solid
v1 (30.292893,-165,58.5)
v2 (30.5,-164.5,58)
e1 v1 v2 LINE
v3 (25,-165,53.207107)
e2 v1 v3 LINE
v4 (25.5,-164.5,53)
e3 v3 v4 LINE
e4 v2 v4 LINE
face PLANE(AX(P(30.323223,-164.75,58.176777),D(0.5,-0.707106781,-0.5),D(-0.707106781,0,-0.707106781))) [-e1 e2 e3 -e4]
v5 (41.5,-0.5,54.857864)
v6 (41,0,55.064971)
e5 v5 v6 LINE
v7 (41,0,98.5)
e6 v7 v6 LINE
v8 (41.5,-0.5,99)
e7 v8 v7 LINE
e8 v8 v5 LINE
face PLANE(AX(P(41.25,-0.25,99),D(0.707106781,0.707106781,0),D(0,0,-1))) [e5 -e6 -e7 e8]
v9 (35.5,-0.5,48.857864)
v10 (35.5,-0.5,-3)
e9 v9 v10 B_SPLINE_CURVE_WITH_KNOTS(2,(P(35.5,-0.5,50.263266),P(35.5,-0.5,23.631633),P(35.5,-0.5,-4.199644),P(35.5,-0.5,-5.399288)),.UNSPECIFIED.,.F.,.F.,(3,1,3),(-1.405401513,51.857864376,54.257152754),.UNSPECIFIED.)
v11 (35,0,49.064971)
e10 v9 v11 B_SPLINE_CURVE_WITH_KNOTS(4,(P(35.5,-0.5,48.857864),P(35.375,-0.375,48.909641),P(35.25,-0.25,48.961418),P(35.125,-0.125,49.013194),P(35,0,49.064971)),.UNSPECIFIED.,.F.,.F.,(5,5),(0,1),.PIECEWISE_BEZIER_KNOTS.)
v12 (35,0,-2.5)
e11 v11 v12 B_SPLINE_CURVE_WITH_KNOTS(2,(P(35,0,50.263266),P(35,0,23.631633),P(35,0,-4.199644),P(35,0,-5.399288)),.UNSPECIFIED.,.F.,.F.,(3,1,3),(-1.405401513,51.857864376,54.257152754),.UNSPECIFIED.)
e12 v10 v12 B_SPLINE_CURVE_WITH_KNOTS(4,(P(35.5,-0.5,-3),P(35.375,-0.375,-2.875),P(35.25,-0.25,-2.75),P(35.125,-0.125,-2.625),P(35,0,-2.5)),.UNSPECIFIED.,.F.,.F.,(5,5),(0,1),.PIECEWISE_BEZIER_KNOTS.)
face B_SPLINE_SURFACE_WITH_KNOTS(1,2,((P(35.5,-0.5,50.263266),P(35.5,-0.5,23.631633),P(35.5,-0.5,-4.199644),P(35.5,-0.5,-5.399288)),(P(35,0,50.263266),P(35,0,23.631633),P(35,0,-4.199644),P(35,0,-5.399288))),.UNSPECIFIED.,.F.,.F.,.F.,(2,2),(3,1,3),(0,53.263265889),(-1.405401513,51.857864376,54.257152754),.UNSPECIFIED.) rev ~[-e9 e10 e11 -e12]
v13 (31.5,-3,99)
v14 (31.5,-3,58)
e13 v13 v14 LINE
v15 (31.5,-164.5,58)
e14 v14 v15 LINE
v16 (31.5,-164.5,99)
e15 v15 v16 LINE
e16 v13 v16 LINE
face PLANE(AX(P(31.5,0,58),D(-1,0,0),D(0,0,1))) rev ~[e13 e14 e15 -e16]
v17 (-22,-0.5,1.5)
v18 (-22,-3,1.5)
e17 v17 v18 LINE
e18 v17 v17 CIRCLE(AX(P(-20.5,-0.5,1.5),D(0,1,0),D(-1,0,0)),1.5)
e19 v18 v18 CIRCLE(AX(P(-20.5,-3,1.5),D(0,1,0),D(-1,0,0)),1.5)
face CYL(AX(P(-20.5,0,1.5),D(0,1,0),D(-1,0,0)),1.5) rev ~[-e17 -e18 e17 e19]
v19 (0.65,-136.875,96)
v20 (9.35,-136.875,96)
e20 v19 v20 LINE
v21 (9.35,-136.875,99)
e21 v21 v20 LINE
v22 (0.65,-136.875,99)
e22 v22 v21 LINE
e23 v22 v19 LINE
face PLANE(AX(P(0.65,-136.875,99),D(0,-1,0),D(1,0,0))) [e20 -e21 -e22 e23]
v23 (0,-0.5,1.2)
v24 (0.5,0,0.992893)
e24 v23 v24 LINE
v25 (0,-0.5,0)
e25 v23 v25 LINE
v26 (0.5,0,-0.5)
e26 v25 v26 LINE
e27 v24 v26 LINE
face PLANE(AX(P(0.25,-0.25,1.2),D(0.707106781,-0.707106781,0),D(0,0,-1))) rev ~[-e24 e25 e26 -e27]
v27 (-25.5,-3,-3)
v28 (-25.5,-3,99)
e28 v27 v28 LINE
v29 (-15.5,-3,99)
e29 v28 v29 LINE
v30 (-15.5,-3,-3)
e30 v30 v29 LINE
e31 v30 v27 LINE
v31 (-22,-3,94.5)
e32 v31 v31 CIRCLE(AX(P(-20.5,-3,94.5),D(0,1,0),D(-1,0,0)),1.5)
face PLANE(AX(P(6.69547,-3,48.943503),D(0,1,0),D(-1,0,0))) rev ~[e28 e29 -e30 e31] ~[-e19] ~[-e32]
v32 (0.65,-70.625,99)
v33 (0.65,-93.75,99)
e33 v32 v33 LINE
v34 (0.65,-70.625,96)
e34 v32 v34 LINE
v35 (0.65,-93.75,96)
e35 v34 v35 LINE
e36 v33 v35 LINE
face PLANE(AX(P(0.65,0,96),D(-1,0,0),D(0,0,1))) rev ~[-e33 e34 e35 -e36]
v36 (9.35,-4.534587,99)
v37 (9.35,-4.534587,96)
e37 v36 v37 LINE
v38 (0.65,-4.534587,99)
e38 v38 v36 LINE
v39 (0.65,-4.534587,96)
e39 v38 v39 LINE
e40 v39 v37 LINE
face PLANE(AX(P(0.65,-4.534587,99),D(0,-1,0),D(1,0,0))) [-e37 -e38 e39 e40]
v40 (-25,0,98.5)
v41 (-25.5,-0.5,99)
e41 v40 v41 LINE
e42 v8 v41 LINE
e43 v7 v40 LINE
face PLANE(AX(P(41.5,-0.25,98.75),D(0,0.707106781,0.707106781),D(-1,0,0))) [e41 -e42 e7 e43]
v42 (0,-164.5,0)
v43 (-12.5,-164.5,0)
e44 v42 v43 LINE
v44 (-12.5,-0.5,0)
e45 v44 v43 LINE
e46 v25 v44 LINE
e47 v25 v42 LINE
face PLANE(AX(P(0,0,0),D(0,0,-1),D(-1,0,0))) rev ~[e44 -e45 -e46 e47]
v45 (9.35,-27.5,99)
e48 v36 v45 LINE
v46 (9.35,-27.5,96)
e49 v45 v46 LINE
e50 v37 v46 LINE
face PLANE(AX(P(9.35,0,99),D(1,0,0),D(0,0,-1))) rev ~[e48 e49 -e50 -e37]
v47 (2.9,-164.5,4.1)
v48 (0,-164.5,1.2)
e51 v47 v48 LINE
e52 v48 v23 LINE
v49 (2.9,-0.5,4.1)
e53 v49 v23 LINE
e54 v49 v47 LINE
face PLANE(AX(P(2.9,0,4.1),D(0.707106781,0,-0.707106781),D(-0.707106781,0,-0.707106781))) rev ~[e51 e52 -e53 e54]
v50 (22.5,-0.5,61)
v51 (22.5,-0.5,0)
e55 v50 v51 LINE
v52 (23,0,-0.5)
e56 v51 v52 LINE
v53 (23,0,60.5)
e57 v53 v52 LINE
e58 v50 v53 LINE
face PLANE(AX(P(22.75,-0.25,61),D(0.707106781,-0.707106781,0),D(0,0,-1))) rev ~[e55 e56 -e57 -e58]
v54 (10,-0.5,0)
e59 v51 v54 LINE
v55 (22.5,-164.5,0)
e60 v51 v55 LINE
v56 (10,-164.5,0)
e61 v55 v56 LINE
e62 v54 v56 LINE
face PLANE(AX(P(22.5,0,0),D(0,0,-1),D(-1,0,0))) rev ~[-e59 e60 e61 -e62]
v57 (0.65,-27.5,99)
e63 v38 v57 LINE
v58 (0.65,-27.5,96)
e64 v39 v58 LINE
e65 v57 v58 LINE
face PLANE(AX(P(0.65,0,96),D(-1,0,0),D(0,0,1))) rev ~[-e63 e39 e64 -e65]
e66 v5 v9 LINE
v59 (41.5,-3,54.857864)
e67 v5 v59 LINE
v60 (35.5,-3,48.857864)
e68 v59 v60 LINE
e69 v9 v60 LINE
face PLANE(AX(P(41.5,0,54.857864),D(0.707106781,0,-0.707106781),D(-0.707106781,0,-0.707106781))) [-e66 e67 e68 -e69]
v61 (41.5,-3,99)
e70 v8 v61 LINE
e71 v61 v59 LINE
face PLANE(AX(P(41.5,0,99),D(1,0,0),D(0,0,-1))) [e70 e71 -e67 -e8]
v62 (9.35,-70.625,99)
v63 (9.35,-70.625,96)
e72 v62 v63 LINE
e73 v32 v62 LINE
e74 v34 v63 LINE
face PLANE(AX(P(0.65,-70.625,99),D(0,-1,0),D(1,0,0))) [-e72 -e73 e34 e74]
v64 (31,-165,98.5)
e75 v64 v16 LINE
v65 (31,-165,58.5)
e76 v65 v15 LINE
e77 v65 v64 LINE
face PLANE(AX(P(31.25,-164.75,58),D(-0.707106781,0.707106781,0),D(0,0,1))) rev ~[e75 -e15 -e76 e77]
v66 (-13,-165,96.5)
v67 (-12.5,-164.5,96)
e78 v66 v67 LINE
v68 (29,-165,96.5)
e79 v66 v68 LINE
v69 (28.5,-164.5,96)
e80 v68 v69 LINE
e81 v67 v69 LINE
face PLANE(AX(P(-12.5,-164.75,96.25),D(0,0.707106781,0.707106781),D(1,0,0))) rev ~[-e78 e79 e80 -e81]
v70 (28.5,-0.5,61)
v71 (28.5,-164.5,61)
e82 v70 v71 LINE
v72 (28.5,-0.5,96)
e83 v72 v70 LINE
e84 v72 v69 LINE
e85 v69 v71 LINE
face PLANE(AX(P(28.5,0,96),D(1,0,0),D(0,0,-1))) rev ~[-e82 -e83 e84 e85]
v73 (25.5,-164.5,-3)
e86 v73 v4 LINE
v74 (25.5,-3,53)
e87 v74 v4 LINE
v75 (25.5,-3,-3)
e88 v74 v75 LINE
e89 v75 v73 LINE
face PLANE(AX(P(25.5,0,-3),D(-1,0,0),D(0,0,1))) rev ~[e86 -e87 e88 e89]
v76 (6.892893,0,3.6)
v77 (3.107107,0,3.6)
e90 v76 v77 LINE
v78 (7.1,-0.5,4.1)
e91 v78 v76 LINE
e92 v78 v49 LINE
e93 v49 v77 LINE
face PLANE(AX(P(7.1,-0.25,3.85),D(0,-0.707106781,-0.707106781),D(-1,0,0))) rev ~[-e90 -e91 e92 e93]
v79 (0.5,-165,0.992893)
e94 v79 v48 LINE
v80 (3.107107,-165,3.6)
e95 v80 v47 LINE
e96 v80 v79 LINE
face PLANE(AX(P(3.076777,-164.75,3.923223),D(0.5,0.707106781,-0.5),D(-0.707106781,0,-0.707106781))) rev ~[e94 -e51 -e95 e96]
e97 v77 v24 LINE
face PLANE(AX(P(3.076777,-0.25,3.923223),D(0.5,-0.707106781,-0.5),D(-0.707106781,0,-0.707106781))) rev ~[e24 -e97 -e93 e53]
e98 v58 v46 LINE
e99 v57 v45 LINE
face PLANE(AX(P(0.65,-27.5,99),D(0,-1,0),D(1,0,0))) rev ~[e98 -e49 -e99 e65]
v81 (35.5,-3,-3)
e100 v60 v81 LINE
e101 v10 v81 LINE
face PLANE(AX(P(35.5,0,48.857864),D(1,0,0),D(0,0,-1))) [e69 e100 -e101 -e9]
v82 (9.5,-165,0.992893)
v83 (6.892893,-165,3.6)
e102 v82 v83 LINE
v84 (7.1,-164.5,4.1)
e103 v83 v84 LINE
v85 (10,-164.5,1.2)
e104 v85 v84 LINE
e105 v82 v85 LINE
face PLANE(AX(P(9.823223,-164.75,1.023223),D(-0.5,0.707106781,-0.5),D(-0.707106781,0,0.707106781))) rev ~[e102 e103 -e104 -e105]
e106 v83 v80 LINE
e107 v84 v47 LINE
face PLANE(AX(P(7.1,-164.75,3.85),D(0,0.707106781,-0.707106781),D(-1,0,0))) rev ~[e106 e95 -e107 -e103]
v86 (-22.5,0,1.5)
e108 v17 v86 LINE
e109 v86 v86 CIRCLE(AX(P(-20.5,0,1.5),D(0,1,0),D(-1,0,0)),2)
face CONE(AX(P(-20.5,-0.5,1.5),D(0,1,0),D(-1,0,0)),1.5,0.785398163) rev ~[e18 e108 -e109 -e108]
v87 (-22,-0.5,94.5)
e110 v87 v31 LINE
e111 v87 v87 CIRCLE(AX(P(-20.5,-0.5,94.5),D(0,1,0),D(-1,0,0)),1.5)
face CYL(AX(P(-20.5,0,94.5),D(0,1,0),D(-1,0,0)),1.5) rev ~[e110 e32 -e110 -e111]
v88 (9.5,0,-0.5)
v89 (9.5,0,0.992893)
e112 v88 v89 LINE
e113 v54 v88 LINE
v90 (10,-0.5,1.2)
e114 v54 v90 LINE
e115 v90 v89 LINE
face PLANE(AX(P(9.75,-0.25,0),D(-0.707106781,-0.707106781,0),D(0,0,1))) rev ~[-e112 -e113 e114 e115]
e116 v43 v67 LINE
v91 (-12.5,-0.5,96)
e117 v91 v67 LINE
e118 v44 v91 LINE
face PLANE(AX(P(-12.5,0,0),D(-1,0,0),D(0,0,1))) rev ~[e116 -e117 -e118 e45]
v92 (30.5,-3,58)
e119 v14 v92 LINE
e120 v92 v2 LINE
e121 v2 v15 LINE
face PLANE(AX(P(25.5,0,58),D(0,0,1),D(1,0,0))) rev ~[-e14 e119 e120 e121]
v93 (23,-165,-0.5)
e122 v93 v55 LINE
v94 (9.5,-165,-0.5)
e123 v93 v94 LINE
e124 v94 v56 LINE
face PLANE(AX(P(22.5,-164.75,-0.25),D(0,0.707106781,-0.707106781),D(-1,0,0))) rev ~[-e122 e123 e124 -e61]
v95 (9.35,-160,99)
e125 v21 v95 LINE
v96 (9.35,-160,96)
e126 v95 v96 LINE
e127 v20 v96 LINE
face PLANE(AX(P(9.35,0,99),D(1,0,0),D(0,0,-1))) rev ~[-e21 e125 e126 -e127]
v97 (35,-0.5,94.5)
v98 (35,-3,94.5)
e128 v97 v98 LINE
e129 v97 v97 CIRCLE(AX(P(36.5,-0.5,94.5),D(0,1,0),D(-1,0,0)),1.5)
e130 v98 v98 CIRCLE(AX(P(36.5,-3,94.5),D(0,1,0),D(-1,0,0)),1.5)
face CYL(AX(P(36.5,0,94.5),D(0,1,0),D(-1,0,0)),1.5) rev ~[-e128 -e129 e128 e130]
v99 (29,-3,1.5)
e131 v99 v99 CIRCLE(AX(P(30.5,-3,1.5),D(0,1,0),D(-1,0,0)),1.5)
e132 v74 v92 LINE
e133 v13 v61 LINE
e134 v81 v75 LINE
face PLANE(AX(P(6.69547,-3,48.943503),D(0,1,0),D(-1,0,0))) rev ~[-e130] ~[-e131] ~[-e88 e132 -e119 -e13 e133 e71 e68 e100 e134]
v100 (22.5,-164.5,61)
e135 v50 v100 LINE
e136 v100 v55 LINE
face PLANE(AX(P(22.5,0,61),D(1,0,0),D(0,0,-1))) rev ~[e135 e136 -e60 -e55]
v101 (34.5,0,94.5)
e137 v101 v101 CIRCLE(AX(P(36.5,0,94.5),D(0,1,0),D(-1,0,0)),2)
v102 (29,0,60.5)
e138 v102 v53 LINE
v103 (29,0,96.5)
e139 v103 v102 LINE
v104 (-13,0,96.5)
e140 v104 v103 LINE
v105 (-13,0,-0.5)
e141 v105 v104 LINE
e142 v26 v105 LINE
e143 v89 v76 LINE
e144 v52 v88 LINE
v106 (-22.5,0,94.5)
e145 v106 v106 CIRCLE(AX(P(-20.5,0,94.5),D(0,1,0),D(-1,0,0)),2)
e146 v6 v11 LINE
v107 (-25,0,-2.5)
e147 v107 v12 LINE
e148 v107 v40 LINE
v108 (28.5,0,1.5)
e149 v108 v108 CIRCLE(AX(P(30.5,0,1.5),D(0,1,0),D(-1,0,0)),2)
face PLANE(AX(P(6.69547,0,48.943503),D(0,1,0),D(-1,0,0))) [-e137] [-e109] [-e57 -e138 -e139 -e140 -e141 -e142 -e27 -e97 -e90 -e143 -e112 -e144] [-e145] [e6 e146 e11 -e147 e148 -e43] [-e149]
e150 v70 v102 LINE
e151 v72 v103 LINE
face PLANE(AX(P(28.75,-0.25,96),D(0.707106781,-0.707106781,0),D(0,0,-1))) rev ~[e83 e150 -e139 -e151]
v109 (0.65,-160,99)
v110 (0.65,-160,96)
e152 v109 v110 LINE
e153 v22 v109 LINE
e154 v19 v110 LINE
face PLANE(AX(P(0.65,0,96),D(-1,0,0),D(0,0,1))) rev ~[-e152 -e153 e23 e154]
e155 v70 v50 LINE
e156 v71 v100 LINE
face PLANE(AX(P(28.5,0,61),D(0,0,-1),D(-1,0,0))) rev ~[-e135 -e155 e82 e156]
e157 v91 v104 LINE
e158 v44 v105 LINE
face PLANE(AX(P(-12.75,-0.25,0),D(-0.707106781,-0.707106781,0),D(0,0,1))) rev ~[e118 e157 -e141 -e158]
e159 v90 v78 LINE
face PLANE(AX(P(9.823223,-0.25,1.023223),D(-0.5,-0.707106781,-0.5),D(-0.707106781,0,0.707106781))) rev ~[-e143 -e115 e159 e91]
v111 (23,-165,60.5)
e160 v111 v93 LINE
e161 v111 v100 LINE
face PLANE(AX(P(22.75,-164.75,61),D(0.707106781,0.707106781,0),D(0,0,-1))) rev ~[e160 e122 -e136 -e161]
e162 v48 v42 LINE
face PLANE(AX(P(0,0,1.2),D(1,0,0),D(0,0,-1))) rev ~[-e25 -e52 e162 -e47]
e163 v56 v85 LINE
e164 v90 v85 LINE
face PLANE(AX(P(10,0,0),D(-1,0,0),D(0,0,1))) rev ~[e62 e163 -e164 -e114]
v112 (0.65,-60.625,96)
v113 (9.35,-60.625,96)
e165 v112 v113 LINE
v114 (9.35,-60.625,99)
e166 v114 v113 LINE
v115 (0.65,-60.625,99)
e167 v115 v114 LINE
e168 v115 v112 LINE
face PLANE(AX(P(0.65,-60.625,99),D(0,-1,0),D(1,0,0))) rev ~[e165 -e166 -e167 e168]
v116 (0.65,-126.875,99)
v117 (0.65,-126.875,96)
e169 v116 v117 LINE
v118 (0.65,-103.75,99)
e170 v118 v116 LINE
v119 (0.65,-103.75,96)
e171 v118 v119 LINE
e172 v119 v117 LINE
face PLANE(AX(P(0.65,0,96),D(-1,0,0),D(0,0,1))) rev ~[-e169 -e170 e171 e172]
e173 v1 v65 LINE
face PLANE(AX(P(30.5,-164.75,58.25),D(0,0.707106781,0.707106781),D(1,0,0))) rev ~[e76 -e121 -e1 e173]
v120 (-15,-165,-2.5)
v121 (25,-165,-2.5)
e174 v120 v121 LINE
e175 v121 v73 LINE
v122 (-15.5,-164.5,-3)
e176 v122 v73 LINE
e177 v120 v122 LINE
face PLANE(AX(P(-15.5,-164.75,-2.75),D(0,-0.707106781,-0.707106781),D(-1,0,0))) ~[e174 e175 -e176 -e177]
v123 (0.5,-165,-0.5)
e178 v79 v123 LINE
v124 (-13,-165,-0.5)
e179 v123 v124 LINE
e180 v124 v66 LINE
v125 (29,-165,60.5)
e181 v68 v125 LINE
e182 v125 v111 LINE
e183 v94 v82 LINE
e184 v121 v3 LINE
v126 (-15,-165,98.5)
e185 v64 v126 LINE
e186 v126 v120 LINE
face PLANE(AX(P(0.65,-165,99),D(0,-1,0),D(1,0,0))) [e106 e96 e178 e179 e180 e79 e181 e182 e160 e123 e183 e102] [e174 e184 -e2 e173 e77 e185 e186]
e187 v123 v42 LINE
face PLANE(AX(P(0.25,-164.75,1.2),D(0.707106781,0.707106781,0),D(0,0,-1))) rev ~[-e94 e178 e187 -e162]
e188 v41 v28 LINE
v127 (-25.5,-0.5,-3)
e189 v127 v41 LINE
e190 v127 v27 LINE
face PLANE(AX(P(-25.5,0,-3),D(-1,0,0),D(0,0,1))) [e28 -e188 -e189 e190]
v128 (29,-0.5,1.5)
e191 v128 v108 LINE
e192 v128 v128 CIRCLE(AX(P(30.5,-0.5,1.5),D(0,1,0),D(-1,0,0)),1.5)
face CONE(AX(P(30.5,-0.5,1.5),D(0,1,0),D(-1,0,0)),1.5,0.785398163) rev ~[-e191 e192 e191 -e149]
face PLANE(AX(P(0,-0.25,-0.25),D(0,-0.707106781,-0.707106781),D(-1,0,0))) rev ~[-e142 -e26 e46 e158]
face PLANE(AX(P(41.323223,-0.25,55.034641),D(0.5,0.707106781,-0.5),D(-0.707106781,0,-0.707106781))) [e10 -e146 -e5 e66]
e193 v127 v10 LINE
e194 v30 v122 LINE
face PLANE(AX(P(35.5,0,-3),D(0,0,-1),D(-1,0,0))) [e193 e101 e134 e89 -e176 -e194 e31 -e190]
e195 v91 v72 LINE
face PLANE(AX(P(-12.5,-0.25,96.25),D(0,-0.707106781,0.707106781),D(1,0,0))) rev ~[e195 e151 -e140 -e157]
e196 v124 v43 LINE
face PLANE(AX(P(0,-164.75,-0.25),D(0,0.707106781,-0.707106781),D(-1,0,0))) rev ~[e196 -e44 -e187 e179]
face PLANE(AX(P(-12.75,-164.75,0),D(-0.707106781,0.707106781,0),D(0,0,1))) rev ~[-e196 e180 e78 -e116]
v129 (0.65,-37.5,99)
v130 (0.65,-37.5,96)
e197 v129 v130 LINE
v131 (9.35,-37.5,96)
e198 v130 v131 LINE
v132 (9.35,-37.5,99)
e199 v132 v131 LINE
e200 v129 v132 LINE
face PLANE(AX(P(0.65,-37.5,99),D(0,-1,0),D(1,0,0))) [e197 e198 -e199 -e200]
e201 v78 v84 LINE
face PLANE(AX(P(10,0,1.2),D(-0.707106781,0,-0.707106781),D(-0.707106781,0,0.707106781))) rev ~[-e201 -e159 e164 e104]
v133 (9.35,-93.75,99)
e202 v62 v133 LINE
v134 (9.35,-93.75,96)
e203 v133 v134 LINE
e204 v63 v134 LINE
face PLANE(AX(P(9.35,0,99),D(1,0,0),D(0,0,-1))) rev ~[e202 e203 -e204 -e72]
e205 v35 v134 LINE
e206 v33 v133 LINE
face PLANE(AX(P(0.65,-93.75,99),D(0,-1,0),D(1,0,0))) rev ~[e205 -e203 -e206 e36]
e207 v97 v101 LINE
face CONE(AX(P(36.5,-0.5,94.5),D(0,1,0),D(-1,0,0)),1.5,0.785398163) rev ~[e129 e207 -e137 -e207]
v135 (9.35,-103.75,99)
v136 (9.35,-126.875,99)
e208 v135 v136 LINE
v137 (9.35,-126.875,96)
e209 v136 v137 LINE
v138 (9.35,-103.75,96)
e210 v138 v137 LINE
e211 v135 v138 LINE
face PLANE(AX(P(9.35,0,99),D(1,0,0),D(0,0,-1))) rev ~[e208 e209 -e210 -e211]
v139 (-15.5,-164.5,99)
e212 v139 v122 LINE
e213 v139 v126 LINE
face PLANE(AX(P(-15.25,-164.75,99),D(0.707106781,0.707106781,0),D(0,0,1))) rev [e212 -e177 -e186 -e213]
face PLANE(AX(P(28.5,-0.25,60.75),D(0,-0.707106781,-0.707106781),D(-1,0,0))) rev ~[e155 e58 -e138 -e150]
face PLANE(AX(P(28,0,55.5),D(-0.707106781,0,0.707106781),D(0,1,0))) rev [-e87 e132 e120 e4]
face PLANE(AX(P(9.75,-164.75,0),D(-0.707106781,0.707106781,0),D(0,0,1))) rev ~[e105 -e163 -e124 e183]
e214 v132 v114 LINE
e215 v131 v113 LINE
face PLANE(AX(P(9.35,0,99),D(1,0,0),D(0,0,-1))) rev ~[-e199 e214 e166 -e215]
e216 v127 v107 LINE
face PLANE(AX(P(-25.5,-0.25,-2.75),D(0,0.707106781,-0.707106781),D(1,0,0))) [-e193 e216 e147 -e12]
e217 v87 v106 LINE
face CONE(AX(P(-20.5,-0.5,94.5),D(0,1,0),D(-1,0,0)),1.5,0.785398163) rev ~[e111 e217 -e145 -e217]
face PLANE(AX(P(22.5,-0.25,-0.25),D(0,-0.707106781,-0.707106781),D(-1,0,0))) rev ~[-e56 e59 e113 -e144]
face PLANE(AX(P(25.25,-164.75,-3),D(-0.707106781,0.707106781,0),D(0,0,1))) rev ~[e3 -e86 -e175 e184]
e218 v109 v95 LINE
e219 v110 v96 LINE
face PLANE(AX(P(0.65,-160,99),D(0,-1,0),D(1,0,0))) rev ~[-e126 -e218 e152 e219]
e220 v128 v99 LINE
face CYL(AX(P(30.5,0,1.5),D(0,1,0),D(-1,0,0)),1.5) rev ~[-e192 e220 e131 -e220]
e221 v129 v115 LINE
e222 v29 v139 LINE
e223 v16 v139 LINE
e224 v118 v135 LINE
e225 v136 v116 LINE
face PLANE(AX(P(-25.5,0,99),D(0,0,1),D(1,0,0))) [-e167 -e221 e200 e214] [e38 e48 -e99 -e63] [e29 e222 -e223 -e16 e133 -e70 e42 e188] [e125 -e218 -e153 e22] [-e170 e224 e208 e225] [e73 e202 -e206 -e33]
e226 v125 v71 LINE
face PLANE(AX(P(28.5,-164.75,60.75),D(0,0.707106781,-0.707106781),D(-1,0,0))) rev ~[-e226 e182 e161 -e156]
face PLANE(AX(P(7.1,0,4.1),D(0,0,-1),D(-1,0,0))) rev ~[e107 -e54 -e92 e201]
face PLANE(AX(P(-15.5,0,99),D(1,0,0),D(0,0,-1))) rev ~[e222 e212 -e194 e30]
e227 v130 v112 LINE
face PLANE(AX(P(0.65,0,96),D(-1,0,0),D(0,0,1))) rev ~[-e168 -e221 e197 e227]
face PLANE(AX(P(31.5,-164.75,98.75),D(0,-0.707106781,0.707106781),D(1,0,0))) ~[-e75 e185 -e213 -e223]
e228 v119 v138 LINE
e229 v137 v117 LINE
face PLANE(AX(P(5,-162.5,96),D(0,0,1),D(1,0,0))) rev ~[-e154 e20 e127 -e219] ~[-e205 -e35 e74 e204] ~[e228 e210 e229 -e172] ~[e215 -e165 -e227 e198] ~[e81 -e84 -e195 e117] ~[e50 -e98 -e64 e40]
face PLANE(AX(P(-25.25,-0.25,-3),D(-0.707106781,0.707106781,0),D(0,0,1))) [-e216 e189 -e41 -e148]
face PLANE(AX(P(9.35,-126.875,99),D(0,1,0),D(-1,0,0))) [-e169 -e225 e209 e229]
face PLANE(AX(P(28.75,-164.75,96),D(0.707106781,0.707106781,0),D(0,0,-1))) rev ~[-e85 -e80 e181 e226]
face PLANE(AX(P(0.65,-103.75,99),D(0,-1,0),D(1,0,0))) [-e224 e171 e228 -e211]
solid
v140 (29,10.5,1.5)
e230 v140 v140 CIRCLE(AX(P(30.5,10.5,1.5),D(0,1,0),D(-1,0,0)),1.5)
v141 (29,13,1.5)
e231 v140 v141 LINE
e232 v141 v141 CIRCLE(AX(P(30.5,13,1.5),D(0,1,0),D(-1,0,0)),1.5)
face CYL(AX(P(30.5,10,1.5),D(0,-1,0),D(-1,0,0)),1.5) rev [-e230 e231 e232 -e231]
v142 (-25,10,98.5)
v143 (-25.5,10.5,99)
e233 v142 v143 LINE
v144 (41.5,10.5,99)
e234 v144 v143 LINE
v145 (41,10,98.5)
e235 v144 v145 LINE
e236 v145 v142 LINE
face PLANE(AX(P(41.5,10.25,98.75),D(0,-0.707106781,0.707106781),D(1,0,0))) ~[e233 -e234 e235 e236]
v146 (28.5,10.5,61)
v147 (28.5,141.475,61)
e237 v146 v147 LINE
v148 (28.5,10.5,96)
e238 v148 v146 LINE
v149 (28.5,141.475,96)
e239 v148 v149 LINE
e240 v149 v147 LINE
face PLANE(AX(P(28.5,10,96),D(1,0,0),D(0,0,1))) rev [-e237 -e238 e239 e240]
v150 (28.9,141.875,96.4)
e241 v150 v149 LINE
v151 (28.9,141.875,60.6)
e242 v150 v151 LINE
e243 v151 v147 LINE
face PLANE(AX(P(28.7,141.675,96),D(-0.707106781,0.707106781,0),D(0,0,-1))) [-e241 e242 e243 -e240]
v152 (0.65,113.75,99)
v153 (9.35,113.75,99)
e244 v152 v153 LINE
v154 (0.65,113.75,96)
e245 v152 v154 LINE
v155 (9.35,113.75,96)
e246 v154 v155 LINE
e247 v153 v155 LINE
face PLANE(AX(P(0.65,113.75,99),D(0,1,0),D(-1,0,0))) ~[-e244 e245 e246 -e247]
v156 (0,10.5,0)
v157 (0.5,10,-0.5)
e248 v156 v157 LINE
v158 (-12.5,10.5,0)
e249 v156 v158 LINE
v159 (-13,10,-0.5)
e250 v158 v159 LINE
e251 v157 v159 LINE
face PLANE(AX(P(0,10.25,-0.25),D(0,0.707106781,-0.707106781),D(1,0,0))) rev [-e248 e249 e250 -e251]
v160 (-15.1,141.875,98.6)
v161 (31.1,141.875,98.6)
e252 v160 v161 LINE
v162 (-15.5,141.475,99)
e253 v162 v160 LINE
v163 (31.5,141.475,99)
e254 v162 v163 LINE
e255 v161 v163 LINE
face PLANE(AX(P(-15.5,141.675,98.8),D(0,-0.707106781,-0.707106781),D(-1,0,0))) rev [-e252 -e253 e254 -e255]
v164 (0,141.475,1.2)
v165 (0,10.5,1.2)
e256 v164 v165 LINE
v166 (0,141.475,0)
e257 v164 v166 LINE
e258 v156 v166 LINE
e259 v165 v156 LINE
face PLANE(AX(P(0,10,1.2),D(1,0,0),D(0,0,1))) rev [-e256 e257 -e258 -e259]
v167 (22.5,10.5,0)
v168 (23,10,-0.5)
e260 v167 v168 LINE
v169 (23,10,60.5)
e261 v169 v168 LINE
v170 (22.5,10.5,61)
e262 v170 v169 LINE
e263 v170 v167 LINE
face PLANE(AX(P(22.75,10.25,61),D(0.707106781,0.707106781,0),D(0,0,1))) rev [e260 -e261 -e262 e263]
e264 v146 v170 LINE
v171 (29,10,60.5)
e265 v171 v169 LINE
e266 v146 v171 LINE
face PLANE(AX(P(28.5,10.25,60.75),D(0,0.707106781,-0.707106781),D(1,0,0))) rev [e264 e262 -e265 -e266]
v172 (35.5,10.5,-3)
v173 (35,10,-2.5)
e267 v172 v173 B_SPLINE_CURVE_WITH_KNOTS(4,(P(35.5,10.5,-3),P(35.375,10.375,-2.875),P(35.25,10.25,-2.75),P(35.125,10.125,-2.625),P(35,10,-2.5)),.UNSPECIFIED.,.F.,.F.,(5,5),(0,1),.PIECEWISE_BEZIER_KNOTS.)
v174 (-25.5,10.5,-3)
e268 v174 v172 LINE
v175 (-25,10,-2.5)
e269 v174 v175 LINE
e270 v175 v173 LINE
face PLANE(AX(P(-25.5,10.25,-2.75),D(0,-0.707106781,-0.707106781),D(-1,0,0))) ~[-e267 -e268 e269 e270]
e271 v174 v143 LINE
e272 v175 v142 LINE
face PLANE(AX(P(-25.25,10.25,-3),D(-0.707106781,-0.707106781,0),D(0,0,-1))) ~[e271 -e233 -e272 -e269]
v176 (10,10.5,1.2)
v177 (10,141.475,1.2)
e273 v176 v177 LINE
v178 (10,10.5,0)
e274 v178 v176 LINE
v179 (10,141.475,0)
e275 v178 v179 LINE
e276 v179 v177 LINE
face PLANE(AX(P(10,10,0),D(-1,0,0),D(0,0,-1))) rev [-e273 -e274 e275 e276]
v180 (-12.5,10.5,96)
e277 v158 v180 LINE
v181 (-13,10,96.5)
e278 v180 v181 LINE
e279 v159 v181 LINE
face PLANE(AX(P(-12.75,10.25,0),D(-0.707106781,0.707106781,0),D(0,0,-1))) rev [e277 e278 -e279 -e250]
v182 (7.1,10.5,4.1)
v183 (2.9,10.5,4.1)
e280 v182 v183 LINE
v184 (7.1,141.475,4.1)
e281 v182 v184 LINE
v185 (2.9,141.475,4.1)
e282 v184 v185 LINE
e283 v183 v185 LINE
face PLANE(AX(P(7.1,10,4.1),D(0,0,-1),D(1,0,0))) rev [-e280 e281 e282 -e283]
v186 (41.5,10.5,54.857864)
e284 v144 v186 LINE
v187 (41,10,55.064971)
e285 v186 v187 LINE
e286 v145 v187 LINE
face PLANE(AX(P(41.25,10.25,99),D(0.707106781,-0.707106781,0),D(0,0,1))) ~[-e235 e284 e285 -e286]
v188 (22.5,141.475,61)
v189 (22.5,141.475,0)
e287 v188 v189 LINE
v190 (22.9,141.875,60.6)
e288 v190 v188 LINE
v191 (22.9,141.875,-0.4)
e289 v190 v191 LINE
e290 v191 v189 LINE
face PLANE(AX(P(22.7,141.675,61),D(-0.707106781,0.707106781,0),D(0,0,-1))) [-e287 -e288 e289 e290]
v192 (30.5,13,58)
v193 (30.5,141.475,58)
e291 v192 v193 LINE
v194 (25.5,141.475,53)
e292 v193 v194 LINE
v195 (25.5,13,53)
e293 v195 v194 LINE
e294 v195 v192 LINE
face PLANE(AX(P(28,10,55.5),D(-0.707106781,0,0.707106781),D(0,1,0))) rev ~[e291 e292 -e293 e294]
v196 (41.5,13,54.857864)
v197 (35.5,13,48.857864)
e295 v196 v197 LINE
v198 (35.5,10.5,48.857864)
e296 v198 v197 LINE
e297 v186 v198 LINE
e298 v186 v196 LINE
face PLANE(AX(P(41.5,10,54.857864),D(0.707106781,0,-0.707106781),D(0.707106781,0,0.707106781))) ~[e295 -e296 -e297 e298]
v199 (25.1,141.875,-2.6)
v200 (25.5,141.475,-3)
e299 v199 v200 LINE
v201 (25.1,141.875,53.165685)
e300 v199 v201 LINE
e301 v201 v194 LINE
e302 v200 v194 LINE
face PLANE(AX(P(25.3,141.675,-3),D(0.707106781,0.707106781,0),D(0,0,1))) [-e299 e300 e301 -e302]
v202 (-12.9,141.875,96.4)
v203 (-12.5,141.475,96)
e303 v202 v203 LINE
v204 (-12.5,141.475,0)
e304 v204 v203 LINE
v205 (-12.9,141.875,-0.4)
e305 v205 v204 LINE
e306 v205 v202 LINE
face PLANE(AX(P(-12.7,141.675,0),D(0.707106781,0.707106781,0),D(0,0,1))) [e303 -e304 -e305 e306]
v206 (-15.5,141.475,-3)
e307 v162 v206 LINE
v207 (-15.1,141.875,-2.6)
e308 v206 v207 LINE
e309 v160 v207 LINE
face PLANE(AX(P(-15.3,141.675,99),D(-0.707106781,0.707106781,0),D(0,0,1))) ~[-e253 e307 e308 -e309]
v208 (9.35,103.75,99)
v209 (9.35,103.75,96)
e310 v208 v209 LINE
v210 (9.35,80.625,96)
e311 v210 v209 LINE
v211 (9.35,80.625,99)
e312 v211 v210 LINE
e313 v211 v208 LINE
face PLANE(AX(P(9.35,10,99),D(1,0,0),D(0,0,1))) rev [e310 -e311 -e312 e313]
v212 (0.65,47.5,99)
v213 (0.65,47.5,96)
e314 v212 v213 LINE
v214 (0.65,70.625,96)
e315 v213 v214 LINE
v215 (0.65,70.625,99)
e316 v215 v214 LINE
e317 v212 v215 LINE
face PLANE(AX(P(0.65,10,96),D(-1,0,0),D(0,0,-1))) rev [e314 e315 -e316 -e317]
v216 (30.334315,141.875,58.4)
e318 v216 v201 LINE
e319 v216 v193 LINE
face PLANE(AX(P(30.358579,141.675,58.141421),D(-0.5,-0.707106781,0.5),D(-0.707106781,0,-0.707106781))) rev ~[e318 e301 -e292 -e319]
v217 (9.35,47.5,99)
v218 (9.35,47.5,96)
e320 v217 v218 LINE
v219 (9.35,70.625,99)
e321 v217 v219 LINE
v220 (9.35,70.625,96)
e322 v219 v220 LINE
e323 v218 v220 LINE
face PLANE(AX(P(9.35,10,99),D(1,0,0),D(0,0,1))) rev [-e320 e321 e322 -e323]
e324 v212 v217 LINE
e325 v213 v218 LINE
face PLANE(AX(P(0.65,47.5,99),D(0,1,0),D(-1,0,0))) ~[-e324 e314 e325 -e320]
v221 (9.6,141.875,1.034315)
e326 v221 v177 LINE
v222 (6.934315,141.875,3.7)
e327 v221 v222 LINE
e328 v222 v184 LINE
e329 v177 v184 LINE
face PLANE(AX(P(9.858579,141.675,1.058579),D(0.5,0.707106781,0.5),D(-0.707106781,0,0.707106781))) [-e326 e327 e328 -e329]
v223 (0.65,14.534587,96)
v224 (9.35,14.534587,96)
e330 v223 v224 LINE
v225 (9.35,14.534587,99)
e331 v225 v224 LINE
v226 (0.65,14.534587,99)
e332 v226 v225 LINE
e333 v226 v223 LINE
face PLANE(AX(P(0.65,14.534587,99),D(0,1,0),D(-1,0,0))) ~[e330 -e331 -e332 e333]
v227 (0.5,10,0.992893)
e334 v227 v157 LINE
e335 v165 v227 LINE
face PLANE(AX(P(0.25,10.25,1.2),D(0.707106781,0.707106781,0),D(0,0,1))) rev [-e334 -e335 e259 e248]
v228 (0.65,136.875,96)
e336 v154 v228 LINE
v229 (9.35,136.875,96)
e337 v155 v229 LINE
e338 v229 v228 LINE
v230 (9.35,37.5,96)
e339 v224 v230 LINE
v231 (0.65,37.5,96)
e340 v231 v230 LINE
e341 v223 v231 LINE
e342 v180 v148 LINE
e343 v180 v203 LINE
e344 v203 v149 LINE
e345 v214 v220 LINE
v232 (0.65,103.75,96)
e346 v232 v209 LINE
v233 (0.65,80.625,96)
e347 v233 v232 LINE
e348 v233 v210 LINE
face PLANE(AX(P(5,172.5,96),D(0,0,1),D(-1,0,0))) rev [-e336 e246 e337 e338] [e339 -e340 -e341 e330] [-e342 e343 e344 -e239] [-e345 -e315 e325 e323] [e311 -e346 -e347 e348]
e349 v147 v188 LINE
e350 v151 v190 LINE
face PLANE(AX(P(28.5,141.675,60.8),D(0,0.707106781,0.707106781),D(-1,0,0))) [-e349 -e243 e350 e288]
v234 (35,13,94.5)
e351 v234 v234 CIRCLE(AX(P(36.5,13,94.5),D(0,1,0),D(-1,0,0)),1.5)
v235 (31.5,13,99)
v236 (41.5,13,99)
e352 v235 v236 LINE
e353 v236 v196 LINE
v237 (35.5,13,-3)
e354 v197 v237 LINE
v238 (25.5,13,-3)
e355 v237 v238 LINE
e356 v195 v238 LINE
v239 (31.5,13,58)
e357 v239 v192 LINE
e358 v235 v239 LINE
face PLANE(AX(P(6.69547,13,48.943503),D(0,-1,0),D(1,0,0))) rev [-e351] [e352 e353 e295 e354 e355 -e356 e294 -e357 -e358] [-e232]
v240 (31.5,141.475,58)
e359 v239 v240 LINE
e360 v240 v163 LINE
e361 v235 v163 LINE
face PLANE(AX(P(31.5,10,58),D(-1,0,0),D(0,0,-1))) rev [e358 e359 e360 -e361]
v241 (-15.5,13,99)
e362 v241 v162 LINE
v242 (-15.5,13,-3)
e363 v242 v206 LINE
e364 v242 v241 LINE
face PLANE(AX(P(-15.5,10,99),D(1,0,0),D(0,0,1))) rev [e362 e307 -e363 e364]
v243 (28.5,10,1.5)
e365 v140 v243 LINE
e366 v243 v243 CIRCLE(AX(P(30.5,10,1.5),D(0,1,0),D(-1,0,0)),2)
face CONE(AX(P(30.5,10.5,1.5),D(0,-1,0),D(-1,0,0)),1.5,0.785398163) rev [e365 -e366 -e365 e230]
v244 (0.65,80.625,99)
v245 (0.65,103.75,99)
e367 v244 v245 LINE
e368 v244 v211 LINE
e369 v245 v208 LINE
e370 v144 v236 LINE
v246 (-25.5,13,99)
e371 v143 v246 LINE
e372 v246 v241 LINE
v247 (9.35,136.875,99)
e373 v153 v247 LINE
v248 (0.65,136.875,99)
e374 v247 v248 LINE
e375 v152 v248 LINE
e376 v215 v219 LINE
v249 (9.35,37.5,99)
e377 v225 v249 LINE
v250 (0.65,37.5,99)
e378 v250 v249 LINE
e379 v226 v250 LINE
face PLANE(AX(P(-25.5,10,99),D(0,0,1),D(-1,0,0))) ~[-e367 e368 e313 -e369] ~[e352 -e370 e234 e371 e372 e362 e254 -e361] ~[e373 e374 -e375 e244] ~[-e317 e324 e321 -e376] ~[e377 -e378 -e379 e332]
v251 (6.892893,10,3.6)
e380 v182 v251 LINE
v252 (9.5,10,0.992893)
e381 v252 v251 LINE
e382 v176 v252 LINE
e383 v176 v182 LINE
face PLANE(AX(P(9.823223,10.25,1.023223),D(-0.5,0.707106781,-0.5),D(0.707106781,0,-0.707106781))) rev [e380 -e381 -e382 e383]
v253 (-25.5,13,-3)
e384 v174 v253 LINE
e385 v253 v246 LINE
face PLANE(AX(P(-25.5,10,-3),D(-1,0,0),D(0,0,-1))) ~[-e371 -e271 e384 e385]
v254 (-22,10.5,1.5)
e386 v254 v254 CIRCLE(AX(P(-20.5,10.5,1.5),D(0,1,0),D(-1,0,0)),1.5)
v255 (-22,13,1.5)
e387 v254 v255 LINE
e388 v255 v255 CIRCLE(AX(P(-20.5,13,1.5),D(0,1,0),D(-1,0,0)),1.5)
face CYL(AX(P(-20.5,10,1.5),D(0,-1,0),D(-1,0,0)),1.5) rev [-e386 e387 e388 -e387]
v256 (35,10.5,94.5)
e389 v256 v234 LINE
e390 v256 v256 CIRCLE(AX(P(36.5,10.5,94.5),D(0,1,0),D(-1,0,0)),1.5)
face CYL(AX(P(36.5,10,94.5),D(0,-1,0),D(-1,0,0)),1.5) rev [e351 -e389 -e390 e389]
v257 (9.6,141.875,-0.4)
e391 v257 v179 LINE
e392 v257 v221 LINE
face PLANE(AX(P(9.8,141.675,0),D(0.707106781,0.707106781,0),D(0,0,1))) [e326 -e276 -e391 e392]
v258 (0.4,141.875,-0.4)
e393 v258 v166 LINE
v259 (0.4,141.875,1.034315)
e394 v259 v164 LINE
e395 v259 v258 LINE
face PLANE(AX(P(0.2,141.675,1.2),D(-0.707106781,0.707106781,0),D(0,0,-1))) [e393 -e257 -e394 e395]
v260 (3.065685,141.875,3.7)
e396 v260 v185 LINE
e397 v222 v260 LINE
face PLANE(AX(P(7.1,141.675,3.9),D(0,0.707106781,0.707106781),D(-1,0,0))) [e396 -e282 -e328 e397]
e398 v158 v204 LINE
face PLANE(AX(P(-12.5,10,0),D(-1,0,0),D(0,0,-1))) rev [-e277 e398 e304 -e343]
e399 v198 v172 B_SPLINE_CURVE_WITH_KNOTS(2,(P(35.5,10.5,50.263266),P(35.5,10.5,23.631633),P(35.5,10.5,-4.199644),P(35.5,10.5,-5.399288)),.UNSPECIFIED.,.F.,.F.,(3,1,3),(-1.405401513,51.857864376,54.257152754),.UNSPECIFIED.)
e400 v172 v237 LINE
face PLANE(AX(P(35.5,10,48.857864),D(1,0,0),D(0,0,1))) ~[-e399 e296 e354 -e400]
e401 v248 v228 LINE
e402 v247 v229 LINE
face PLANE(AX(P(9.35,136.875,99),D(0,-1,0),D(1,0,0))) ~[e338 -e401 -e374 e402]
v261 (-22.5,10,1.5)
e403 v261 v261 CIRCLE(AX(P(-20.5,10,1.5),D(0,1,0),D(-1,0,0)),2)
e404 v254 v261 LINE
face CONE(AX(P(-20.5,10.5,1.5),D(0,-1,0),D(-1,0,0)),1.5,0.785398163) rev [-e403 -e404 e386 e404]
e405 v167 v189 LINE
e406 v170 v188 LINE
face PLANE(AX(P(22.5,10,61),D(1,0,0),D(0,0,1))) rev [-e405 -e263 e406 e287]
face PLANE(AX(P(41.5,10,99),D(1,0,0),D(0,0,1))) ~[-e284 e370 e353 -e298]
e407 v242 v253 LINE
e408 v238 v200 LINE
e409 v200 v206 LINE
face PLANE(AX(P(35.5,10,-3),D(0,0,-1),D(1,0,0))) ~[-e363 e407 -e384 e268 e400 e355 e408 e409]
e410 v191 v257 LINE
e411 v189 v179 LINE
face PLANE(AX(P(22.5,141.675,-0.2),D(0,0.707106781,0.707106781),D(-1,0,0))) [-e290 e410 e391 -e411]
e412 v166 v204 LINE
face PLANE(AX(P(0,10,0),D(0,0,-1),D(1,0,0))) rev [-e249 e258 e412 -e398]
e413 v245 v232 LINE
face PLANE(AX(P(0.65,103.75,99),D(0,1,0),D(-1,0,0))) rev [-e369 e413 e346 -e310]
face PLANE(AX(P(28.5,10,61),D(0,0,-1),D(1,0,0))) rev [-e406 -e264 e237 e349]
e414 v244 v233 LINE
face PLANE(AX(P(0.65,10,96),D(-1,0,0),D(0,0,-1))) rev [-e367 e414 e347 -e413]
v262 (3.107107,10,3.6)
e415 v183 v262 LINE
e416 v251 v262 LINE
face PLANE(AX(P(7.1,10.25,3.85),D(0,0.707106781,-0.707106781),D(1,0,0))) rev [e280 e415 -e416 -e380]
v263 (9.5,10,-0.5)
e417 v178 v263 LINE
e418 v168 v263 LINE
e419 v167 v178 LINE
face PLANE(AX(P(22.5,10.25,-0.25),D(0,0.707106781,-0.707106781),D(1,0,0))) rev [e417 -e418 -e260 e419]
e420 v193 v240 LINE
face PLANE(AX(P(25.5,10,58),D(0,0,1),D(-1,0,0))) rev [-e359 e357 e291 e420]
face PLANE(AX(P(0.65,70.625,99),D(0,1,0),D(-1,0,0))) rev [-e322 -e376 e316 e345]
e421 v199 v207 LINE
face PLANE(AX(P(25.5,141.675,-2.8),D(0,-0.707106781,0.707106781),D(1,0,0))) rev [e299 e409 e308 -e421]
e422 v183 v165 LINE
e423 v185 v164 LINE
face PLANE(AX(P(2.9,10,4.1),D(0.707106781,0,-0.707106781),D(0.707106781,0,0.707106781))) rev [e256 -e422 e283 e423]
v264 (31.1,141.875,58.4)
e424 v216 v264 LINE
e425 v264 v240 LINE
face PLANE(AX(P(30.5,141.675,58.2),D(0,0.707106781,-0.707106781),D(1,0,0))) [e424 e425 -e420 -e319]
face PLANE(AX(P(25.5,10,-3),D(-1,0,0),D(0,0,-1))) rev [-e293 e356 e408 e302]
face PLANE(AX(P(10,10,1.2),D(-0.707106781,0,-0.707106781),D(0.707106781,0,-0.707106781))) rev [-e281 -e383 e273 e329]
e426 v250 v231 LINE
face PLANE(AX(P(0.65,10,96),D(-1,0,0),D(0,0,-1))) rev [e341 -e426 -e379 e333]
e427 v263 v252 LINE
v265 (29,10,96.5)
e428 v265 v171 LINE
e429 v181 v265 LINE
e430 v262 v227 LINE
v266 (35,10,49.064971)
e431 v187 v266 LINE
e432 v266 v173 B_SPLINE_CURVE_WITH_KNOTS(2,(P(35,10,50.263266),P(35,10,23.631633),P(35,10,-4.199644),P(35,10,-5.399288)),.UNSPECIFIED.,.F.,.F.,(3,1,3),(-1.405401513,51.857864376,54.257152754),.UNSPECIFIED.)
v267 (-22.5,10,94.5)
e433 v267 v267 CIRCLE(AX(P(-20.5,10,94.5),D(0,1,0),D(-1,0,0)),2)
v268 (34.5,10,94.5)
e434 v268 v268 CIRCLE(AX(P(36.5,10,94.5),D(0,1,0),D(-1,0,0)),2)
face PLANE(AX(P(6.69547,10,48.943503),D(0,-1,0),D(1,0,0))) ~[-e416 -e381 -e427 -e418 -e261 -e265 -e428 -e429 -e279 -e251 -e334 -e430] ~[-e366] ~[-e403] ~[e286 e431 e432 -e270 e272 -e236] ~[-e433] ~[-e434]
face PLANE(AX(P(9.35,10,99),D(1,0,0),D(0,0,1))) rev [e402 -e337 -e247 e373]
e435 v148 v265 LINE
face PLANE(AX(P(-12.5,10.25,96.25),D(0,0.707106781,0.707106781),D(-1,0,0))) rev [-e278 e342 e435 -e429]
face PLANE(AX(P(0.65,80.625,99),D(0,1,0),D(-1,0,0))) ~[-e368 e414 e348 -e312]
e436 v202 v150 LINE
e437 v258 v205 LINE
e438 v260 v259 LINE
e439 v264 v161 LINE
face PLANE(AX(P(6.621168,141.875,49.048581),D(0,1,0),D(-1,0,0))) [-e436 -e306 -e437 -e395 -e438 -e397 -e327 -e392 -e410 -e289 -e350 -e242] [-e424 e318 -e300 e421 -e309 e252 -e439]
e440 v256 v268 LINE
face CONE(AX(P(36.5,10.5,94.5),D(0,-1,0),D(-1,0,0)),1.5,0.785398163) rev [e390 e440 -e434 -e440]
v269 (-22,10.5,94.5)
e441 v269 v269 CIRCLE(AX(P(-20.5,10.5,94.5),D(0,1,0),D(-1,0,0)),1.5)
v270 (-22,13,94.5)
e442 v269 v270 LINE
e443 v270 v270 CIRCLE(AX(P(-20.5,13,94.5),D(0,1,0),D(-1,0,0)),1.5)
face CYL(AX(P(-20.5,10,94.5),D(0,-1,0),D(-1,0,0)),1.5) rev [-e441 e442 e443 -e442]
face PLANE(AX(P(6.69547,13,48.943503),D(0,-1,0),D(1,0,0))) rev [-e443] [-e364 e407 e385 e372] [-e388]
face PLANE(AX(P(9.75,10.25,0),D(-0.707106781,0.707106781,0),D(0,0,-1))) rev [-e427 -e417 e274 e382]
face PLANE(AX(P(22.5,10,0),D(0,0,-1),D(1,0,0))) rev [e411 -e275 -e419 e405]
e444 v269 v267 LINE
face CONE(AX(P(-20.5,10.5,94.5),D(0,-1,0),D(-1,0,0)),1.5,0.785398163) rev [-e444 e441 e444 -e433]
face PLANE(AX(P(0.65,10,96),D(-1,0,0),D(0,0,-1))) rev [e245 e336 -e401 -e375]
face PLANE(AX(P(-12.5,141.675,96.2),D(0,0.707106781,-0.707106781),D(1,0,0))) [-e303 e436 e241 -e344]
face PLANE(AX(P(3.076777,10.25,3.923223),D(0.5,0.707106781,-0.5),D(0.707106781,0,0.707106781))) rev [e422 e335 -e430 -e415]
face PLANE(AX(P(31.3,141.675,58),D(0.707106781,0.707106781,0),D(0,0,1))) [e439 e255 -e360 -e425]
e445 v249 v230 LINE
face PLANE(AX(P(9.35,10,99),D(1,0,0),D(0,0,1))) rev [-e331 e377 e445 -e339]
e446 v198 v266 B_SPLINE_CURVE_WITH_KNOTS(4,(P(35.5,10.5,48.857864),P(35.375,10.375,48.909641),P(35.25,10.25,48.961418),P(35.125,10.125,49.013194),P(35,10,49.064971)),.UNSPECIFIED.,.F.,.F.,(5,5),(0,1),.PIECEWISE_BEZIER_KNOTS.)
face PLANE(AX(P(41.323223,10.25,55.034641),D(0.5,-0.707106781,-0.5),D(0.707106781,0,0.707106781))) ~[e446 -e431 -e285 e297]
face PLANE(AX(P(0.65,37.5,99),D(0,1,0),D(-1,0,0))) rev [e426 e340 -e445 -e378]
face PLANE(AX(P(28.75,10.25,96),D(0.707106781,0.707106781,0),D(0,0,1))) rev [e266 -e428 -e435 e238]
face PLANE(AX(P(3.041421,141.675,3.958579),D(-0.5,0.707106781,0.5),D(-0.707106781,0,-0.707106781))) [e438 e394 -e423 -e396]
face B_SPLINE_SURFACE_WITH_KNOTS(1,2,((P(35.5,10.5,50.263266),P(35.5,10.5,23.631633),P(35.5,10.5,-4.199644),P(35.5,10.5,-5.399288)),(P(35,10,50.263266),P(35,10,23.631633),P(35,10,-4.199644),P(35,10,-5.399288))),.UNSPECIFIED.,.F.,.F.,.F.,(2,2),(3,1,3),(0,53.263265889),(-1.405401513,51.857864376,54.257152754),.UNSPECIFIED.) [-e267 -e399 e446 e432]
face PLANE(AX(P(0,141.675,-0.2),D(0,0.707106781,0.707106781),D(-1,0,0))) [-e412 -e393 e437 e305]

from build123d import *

# Parameters (mm, degrees)
F1_DEPTH  = 165
F2_W      = 8.7
F2_H      = 5
F2_H_2    = 10
F2_H_3    = 4.5345870574
F3_DEPTH  = 3
F4_SIZE   = 5
F5_R      = 1.5
F6_DEPTH  = 3
F7_SIZE   = 0.5
F12_DEPTH = 33.125
F13_SIZE  = 0.4


with BuildPart() as f1:
    # F0 (on Front) → F1 (new body)
    with BuildSketch(Plane.XZ):
        Polygon((0, 1.2), (0, 0), (-12.5, 0), (-12.5, 96), (0.65, 96), (0.65, 99), (-15.5, 99), (-15.5, -3), (5, -3), (25.5, -3), (25.5, 58), (31.5, 58), (31.5, 99), (9.35, 99), (9.35, 96), (22.5, 96), (28.5, 96), (28.5, 61), (22.5, 61), (22.5, 0), (10, 0), (10, 1.2), (7.1, 4.1), (5, 4.1), (2.9, 4.1), align=None)
    extrude(amount=F1_DEPTH)

    # F2 (on face) → F3 (join, through all)
    with BuildSketch(Plane.XY.offset(99)):
        with Locations((5, -162.5)):
            Rectangle(F2_W, F2_H)
        Polygon((0.65, -131.875), (0.65, -136.875), (9.35, -136.875), (9.35, -126.875), (0.65, -126.875), align=None)
        with Locations((5, -98.75)):
            Rectangle(F2_W, F2_H_2)
        with Locations((5, -65.625)):
            Rectangle(F2_W, F2_H_2)
        with Locations((5, -32.5)):
            Rectangle(F2_W, F2_H_2)
        with Locations((5, -2.2672935287)):
            Rectangle(F2_W, F2_H_3)
    extrude(amount=-F3_DEPTH)

    # F4
    f4_edges = [f1.edges().sort_by_distance(p)[0] for p in [
        (25.5, -82.5, 58),
    ]]
    chamfer(f4_edges, length=F4_SIZE)

    # F5 (on face) → F6 (join)
    with BuildSketch(Plane(origin=(0, 0, 0), x_dir=(-1, 0, 0), z_dir=(0, 1, 0))):
        Polygon((25.5, -3), (25.5, 99), (-41.5, 99), (-41.5, 54.8578643763), (-35.5, 48.8578643763), (-35.5, -3), align=None)
        with Locations((-30.5, 1.5)):
            Circle(F5_R, mode=Mode.SUBTRACT)
        with Locations((20.5, 1.5)):
            Circle(F5_R, mode=Mode.SUBTRACT)
        with Locations((-36.5, 94.5)):
            Circle(F5_R, mode=Mode.SUBTRACT)
        Polygon((-22.5, 0), (-22.5, 61), (-28.5, 61), (-28.5, 96), (12.5, 96), (12.5, 0), (0, 0), (0, 1.2), (-2.9, 4.1), (-7.1, 4.1), (-10, 1.2), (-10, 0), align=None, mode=Mode.SUBTRACT)
        with Locations((20.5, 94.5)):
            Circle(F5_R, mode=Mode.SUBTRACT)
    extrude(amount=-F6_DEPTH)

    # F7
    f7_edges = [f1.edges().sort_by_distance(p)[0] for p in [
        (35.5, 0, 22.928932),
        (38.5, 0, 51.857864),
        (41.5, 0, 76.928932),
        (8, 0, 99),
        (-25.5, 0, 48),
        (5, 0, -3),
        (8, 0, 96),
        (28.5, 0, 78.5),
        (25.5, 0, 61),
        (22.5, 0, 30.5),
        (16.25, 0, 0),
        (10, 0, 0.6),
        (8.55, 0, 2.65),
        (5, 0, 4.1),
        (1.45, 0, 2.65),
        (0, 0, 0.6),
        (-6.25, 0, 0),
        (-12.5, 0, 48),
        (32, 0, 1.5),
        (38, 0, 94.5),
        (-19, 0, 94.5),
        (-19, 0, 1.5),
        (25.5, -165, 25),
        (28, -165, 55.5),
        (5, -165, -3),
        (31, -165, 58),
        (-15.5, -165, 48),
        (31.5, -165, 78.5),
        (8, -165, 99),
        (28.5, -165, 78.5),
        (25.5, -165, 61),
        (22.5, -165, 30.5),
        (16.25, -165, 0),
        (10, -165, 0.6),
        (8.55, -165, 2.65),
        (5, -165, 4.1),
        (1.45, -165, 2.65),
        (0, -165, 0.6),
        (-6.25, -165, 0),
        (-12.5, -165, 48),
        (8, -165, 96),
    ]]
    chamfer(f7_edges, length=F7_SIZE)


with BuildPart() as f9_1:
    # F9: instance of F1
    add(f1.part.mirror(Plane(origin=(6.7486416271, 5, 47.845952448), x_dir=(-1, 0, 0), z_dir=(0, 1, 0))))

    # F11 (on face) → F12 (cut, through all)
    with BuildSketch(Plane(origin=(0, 175, 0), x_dir=(-1, 0, 0), z_dir=(0, 1, 0))):
        Polygon((-30.5, -8), (20.5, -8), (20.5, 104), (-36.5, 104), (-36.5, 56.9289321881), (-30.5, 50.9289321881), align=None)
    extrude(amount=-F12_DEPTH, mode=Mode.SUBTRACT)

    # F13
    f13_edges = [f9_1.edges().sort_by_distance(p)[0] for p in [
        (25.5, 141.875, 25),
        (28, 141.875, 55.5),
        (31, 141.875, 58),
        (31.5, 141.875, 78.5),
        (8, 141.875, 99),
        (-15.5, 141.875, 48),
        (5, 141.875, -3),
        (28.5, 141.875, 78.5),
        (25.5, 141.875, 61),
        (22.5, 141.875, 30.5),
        (16.25, 141.875, 0),
        (10, 141.875, 0.6),
        (8.55, 141.875, 2.65),
        (5, 141.875, 4.1),
        (1.45, 141.875, 2.65),
        (0, 141.875, 0.6),
        (-6.25, 141.875, 0),
        (-12.5, 141.875, 48),
        (8, 141.875, 96),
    ]]
    chamfer(f13_edges, length=F13_SIZE)


solid = Compound([f1.part, f9_1.part])
